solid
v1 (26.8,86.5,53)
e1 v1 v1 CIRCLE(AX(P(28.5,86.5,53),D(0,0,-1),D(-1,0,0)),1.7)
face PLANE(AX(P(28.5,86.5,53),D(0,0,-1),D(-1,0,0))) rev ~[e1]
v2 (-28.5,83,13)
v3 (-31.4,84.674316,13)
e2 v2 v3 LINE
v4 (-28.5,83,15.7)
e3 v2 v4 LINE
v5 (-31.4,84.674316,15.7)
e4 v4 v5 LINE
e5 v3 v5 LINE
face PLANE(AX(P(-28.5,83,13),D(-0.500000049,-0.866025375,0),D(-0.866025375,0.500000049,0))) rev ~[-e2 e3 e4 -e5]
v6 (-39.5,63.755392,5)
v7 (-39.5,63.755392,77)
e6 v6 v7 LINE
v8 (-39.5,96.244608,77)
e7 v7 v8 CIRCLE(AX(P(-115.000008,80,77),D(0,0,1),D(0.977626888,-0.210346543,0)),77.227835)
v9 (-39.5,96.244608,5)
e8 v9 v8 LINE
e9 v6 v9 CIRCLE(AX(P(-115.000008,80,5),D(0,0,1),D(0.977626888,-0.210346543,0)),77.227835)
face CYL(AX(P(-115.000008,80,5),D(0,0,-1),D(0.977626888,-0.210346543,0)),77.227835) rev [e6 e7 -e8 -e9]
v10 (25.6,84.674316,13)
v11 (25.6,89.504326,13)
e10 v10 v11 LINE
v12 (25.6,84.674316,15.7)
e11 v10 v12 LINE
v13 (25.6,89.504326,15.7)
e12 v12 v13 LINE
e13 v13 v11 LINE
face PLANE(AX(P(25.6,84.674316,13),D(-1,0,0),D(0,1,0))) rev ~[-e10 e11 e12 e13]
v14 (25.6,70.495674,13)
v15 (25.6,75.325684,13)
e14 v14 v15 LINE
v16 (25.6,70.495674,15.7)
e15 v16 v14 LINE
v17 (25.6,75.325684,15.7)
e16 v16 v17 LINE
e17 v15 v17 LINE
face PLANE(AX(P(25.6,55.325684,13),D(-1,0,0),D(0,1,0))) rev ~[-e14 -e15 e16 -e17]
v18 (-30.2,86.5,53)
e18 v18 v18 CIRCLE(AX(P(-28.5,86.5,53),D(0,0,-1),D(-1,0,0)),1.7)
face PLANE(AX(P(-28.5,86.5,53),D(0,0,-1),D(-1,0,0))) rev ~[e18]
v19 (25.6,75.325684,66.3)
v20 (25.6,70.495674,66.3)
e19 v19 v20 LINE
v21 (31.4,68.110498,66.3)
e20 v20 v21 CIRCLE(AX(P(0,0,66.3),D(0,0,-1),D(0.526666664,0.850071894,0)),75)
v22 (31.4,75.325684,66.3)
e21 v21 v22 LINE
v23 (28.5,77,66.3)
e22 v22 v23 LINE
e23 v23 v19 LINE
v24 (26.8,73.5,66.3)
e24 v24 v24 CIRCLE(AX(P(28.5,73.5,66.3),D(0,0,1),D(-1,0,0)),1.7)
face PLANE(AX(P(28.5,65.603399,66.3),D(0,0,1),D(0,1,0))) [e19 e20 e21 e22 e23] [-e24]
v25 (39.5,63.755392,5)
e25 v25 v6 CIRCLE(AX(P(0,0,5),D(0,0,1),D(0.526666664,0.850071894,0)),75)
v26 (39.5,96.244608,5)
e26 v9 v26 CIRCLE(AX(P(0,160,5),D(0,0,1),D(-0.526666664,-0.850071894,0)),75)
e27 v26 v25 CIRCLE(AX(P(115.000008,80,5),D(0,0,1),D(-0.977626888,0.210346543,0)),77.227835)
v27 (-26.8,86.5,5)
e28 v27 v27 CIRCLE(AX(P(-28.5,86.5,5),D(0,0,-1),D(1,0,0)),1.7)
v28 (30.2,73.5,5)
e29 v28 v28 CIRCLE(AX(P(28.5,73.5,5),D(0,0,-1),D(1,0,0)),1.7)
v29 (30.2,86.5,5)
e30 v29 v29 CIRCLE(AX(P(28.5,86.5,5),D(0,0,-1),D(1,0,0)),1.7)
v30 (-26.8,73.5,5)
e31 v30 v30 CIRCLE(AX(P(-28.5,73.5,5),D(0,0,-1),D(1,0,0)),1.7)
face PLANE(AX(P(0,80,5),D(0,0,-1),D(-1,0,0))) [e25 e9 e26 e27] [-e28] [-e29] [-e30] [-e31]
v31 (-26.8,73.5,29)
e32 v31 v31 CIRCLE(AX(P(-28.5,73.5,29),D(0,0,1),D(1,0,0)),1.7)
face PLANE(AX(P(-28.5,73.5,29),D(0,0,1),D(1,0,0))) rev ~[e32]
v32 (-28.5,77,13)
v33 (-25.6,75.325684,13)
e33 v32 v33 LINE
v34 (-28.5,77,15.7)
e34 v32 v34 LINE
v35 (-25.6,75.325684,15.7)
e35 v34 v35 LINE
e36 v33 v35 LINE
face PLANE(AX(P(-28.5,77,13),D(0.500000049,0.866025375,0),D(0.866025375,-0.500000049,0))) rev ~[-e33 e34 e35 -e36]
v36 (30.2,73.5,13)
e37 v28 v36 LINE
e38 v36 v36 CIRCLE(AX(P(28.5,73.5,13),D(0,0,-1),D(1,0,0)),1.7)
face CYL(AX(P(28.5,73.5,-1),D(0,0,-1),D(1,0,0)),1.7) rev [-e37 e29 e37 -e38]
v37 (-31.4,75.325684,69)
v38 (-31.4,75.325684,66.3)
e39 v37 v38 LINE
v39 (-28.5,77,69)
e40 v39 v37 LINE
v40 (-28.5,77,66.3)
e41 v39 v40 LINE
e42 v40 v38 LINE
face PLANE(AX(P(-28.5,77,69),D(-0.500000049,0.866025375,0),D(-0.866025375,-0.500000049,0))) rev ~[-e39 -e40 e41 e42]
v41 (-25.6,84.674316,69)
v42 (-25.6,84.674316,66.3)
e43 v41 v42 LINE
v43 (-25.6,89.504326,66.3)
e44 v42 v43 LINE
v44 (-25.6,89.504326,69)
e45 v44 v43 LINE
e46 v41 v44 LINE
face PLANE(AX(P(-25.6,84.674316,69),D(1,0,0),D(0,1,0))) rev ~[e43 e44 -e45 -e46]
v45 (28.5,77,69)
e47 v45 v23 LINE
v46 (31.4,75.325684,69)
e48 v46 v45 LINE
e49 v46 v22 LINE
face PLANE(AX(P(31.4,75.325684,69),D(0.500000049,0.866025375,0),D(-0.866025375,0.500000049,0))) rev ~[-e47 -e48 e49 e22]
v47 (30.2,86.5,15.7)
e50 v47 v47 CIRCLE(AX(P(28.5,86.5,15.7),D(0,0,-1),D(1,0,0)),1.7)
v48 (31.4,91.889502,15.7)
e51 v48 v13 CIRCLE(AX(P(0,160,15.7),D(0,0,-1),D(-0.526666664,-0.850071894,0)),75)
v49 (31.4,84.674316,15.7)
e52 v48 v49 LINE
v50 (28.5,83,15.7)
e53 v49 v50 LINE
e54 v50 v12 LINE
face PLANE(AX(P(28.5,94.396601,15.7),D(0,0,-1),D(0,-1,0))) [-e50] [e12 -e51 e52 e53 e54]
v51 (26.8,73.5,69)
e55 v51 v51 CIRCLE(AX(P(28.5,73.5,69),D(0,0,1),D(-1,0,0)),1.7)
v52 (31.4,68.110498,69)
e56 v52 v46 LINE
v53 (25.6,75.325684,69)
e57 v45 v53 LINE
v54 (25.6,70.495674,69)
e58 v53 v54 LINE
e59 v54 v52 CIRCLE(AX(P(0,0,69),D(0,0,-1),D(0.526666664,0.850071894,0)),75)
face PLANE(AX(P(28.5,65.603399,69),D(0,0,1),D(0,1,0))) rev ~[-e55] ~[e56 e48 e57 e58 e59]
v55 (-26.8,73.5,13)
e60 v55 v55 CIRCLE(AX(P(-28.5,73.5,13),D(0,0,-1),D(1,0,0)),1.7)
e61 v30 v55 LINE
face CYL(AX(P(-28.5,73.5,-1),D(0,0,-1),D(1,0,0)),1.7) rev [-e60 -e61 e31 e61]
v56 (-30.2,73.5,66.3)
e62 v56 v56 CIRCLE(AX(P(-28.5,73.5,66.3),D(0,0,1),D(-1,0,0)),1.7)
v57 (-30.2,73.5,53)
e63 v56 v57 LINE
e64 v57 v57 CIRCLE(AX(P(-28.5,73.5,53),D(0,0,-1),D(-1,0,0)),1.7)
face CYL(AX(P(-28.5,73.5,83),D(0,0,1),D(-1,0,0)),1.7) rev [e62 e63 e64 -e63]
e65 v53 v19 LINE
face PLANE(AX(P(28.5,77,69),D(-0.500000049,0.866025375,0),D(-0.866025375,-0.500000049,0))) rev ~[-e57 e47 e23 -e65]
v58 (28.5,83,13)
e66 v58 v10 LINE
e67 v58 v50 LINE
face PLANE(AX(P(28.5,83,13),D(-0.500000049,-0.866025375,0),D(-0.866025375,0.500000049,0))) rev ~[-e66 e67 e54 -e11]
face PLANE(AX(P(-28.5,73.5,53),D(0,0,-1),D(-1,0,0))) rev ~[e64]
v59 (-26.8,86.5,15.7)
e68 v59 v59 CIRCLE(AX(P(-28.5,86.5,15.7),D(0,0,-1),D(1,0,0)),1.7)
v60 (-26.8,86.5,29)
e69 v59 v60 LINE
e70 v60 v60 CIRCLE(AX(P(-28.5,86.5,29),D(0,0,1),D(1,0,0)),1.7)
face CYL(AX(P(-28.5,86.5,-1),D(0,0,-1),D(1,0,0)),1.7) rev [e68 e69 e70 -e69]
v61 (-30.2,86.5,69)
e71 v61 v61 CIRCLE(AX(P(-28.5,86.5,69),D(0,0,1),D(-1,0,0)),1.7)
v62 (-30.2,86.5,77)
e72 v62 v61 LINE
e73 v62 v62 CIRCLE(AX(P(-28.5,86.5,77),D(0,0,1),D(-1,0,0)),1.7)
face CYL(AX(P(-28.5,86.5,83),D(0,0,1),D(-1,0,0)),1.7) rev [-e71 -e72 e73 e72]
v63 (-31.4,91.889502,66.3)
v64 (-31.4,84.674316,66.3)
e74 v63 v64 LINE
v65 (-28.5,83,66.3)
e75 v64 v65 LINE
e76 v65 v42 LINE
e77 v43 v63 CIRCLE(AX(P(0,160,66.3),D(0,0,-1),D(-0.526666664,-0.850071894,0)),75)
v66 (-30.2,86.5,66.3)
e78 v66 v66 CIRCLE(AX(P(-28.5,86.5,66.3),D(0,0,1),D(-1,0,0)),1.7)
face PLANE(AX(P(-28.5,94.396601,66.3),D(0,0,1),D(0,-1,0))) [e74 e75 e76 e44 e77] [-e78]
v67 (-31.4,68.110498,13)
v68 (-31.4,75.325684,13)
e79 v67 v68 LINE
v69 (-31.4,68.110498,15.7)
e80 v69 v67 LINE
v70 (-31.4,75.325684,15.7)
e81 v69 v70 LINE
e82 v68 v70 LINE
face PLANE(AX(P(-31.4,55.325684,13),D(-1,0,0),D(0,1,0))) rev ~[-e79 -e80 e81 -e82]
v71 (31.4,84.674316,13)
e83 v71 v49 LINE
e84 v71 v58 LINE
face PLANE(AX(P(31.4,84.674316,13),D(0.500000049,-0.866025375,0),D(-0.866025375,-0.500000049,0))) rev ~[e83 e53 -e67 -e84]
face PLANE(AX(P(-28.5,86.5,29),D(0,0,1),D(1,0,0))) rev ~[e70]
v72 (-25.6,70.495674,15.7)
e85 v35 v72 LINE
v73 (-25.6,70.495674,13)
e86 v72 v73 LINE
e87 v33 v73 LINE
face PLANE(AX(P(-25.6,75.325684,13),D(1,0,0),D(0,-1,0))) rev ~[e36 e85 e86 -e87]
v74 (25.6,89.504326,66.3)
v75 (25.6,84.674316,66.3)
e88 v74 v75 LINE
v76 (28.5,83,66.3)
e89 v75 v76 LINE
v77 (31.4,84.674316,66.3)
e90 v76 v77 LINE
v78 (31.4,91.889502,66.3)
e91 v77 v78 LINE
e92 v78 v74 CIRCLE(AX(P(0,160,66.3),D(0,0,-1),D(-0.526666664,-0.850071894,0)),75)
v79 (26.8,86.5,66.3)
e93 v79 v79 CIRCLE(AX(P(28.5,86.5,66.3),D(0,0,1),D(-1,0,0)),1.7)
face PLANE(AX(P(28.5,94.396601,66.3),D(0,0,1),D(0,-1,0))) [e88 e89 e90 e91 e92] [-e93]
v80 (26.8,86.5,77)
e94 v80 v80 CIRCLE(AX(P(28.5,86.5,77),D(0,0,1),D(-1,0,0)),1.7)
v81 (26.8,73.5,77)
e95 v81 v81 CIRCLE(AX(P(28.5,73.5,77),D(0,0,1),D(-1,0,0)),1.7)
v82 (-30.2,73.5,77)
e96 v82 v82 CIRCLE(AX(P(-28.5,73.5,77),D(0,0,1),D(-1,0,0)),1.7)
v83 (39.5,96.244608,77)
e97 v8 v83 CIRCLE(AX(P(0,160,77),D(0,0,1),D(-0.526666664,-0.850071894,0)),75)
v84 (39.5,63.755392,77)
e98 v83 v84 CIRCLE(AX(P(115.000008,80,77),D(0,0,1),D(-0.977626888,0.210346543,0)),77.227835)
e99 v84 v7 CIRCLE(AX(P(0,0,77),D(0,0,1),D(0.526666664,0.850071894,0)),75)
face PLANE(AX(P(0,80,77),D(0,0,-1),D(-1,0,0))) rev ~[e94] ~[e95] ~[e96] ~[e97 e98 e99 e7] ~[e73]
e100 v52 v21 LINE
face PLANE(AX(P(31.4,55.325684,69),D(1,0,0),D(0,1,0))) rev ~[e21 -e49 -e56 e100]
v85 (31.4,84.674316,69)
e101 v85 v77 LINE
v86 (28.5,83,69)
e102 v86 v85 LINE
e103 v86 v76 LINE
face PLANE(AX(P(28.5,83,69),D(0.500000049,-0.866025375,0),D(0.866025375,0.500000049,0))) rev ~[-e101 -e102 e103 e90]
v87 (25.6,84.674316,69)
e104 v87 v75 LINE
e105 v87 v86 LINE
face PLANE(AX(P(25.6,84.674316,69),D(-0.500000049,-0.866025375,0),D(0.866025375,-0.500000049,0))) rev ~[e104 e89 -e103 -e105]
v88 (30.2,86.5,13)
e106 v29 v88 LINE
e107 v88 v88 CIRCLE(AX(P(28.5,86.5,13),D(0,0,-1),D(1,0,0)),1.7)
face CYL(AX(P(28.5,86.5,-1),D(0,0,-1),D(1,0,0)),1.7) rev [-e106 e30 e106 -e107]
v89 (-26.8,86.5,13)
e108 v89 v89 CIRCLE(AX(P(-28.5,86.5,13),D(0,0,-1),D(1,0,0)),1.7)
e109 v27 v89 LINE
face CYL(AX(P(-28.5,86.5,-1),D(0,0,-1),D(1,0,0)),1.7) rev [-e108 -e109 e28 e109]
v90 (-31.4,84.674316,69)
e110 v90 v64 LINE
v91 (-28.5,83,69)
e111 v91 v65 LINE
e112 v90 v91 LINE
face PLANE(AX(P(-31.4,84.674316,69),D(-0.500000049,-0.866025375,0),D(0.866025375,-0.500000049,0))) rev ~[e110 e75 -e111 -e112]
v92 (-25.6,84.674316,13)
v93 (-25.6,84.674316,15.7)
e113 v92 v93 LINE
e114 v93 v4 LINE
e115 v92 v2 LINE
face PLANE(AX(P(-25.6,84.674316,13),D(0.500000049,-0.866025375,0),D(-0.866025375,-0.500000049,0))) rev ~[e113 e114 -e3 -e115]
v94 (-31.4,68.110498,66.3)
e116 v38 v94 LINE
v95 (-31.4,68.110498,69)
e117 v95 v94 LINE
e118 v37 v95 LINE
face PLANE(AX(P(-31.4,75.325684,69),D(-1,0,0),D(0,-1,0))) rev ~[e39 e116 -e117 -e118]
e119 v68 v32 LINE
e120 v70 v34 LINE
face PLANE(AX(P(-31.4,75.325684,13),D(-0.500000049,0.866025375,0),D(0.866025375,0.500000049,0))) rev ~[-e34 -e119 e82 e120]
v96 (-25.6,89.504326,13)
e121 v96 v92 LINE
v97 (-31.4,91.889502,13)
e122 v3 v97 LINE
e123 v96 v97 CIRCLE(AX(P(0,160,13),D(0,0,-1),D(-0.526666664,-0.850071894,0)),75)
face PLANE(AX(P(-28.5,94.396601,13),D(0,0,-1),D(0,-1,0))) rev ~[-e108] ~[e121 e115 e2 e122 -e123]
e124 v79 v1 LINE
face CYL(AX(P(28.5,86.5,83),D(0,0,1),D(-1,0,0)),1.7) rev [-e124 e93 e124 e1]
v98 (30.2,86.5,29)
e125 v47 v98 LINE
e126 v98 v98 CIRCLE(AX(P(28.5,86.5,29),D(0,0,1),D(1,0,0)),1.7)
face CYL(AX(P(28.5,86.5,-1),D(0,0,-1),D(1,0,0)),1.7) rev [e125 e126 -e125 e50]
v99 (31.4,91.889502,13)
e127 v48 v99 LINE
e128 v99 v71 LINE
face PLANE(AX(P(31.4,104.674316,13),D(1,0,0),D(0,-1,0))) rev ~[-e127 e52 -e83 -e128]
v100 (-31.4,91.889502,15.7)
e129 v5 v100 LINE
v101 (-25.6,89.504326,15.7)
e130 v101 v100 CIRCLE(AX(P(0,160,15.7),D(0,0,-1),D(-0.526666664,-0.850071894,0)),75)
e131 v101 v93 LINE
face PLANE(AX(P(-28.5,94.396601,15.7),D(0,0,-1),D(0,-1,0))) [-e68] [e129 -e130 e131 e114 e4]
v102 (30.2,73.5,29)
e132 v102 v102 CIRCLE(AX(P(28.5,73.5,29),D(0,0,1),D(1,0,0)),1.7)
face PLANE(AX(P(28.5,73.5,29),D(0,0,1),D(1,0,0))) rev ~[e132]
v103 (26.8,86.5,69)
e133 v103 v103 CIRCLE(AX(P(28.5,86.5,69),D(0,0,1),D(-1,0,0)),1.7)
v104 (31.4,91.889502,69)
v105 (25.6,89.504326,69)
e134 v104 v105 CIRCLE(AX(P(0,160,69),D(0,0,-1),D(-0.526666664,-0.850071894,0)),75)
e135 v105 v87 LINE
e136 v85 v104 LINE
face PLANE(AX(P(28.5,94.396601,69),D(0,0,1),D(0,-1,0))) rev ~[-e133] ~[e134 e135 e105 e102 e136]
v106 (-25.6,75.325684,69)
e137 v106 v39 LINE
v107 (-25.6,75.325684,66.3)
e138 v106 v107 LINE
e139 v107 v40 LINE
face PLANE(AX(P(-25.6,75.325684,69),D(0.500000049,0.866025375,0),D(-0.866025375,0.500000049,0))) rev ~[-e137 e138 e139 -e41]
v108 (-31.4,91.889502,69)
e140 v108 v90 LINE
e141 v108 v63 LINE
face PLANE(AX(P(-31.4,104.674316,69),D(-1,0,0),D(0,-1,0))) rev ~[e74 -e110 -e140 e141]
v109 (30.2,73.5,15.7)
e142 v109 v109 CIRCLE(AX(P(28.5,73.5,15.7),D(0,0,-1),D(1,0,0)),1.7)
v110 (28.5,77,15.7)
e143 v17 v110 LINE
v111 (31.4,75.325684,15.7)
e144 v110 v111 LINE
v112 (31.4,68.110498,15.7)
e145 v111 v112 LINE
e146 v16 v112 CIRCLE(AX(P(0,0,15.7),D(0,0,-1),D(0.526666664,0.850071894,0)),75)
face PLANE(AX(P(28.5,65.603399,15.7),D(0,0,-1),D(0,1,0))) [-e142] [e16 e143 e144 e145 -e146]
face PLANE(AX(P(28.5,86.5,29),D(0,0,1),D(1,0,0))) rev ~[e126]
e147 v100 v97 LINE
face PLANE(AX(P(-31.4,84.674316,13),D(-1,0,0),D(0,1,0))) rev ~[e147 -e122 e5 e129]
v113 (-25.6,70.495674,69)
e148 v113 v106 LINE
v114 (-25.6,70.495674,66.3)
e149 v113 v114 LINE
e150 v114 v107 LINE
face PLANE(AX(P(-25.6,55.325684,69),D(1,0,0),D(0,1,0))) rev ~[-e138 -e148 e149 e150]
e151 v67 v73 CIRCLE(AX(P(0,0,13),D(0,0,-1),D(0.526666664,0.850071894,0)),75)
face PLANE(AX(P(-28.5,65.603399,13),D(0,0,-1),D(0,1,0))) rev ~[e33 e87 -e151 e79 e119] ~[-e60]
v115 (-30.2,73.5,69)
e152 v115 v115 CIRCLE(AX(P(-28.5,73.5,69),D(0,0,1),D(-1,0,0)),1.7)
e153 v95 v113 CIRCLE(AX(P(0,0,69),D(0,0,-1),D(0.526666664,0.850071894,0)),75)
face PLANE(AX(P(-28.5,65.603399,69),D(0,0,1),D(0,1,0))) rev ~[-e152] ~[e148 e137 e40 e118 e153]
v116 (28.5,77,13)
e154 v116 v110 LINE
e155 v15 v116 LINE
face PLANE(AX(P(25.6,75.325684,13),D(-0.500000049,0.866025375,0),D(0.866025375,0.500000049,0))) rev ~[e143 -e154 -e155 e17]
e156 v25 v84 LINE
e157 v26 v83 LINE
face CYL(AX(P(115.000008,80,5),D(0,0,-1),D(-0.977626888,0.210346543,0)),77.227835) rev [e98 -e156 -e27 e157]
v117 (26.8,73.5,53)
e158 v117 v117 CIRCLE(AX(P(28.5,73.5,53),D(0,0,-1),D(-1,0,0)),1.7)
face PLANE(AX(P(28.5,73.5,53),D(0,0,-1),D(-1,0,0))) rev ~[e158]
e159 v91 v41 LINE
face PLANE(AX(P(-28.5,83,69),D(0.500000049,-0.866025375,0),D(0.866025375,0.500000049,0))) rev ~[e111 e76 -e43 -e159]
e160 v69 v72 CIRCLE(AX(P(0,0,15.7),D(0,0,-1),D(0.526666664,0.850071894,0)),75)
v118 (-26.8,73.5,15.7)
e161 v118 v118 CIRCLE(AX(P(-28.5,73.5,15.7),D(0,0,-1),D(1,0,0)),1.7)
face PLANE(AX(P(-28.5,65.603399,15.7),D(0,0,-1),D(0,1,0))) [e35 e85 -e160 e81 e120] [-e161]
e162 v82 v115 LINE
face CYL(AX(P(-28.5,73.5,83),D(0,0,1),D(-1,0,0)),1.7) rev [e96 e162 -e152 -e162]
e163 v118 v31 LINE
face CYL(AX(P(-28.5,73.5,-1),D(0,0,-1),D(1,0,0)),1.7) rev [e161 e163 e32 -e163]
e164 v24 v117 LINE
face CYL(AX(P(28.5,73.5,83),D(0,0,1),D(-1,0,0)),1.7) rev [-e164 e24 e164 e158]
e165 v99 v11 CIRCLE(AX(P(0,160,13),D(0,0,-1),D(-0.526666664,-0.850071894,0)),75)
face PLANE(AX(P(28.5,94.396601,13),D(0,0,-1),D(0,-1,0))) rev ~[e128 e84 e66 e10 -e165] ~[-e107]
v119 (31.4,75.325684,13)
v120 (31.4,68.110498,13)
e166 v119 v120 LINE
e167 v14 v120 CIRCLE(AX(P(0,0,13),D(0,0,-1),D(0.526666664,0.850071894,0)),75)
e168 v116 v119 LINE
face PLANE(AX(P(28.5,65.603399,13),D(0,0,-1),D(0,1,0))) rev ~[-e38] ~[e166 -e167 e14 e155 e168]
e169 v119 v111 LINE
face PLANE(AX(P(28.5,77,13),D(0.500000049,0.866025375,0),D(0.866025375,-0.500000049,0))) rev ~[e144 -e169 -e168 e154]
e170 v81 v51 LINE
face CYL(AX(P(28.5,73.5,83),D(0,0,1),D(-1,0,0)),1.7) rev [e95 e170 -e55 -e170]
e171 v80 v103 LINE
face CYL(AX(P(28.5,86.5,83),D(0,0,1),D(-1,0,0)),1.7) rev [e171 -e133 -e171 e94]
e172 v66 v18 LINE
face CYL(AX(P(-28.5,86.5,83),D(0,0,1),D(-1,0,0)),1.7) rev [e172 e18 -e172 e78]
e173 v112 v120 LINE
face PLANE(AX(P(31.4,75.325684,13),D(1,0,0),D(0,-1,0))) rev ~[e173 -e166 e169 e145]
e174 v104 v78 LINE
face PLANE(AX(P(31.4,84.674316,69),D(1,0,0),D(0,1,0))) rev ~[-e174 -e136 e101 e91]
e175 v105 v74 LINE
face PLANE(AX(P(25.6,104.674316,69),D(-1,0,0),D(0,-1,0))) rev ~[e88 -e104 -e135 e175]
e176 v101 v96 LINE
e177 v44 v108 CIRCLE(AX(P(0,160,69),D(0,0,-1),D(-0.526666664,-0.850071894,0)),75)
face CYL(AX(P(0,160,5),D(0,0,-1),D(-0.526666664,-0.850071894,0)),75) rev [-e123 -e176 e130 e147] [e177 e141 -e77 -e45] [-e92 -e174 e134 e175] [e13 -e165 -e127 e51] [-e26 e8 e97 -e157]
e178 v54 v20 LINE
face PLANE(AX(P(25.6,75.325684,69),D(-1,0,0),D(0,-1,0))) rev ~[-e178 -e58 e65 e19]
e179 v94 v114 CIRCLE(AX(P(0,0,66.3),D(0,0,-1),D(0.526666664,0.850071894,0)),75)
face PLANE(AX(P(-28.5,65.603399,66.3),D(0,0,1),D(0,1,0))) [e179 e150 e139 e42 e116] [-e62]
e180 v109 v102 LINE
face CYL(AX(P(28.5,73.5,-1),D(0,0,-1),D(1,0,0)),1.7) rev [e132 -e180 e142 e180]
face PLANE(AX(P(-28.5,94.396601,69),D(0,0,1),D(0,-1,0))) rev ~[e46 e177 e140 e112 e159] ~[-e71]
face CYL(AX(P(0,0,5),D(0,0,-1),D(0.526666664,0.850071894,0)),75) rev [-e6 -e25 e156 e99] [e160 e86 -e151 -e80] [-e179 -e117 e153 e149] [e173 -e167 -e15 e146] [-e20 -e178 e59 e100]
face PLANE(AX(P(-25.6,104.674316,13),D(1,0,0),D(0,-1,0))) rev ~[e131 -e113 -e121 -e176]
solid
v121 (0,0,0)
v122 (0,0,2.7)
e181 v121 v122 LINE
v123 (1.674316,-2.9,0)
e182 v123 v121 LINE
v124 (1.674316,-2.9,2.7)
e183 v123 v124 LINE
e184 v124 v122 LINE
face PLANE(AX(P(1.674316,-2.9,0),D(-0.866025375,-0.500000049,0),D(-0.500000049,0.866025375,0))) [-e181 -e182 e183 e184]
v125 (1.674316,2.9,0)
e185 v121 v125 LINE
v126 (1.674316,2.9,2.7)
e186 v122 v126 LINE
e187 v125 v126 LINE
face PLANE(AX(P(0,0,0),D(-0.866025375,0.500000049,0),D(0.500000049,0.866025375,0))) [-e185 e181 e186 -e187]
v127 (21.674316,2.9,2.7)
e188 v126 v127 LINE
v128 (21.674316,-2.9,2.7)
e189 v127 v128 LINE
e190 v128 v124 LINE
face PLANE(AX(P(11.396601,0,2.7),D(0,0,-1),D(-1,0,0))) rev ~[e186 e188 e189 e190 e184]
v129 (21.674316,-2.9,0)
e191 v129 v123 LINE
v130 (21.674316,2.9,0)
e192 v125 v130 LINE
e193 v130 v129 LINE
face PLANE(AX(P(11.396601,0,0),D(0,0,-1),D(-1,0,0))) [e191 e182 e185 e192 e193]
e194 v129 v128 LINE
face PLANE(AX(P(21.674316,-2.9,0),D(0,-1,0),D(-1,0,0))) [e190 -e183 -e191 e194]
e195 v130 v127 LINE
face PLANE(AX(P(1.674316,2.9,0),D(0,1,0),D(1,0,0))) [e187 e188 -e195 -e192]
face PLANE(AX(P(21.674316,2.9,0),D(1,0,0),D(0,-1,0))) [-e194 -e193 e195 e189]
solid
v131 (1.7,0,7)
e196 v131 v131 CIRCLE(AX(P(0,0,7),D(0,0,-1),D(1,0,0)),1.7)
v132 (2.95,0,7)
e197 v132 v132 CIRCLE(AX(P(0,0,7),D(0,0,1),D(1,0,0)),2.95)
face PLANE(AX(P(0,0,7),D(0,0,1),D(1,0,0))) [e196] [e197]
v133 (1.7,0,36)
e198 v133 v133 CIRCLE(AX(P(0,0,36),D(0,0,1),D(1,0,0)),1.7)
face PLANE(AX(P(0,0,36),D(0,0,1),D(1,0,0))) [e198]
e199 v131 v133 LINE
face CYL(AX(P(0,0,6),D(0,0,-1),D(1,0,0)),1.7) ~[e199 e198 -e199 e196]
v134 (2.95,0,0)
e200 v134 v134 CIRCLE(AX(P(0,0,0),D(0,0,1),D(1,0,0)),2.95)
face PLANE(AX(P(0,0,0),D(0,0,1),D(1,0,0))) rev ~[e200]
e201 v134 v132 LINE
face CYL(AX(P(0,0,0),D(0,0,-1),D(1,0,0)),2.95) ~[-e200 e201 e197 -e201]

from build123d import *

# Parameters (mm, degrees)
CYLINDER_R               = 2.95
CYLINDER_DEPTH           = 7
CYLINDER001_R            = 1.7
CYLINDER001_DEPTH        = 30
PAD002_DEPTH             = 2.7
CLONE171_ROLL_ANGLE      = 180
CLONE171_PLACEMENT_ANGLE = 90
CLONE167_PLACEMENT_ANGLE = -90
CLONE168_PLACEMENT_ANGLE = 90
CLONE172_ROLL_ANGLE      = 180
CLONE172_PLACEMENT_ANGLE = 90
CLONE177_PLACEMENT_ANGLE = 180
CLONE169_ROLL_ANGLE      = 180
CLONE169_PLACEMENT_ANGLE = -90
CLONE170_ROLL_ANGLE      = 180
CLONE170_PLACEMENT_ANGLE = -90
CLONE178_PLACEMENT_ANGLE = 180
CLONE180_PLACEMENT_ANGLE = 180
CLONE179_PLACEMENT_ANGLE = 180
CLONE166_PLACEMENT_ANGLE = -90
CLONE165_PLACEMENT_ANGLE = 90
PAD021_DEPTH             = 72


with BuildPart() as m3bolthead:
    # Cylinder → Cylinder (new body)
    with BuildSketch(Plane.XY):
        Circle(CYLINDER_R)
    extrude(amount=CYLINDER_DEPTH)


with BuildPart() as m3bolt:
    # Cylinder001 → Cylinder001 (new body)
    with BuildSketch(Plane.XY.offset(6)):
        Circle(CYLINDER001_R)
    extrude(amount=CYLINDER001_DEPTH)

    # Fusion: union M3BoltHead
    add(m3bolthead.part)


with BuildPart() as m3nuthousing:
    # Sketch003 → Pad002 (new body)
    with BuildSketch(Plane.XY):
        Polygon((0, 0), (1.674316, 2.9), (21.674316, 2.9), (21.674316, -2.9), (1.674316, -2.9), align=None)
    extrude(amount=PAD002_DEPTH)


with BuildPart() as clone_of_m3nuthousing016:
    # Clone171 base: copy of M3NutHousing
    add(m3nuthousing.part)


with BuildPart() as clone_of_m3nuthousing016_1:
    # Clone171 roll: moved
    add(clone_of_m3nuthousing016.part.rotate(Axis((0, 0, 0), (1, 0, 0)), CLONE171_ROLL_ANGLE))


with BuildPart() as clone_of_m3nuthousing016_2:
    # Clone171 placement: moved
    add(clone_of_m3nuthousing016_1.part.moved(Location((28.5, 83, 69))).rotate(Axis((28.5, 83, 69), (0, 0, 1)), CLONE171_PLACEMENT_ANGLE))


with BuildPart() as clone_of_m3nuthousing012:
    # Clone167 base: copy of M3NutHousing
    add(m3nuthousing.part)


with BuildPart() as clone_of_m3nuthousing012_1:
    # Clone167 placement: moved
    add(clone_of_m3nuthousing012.part.moved(Location((28.5, 77, 13))).rotate(Axis((28.5, 77, 13), (0, 0, 1)), CLONE167_PLACEMENT_ANGLE))


with BuildPart() as clone_of_m3nuthousing013:
    # Clone168 base: copy of M3NutHousing
    add(m3nuthousing.part)


with BuildPart() as clone_of_m3nuthousing013_1:
    # Clone168 placement: moved
    add(clone_of_m3nuthousing013.part.moved(Location((-28.5, 83, 13))).rotate(Axis((-28.5, 83, 13), (0, 0, 1)), CLONE168_PLACEMENT_ANGLE))


with BuildPart() as clone_of_m3nuthousing017:
    # Clone172 base: copy of M3NutHousing
    add(m3nuthousing.part)


with BuildPart() as clone_of_m3nuthousing017_1:
    # Clone172 roll: moved
    add(clone_of_m3nuthousing017.part.rotate(Axis((0, 0, 0), (1, 0, 0)), CLONE172_ROLL_ANGLE))


with BuildPart() as clone_of_m3nuthousing017_2:
    # Clone172 placement: moved
    add(clone_of_m3nuthousing017_1.part.moved(Location((-28.5, 83, 69))).rotate(Axis((-28.5, 83, 69), (0, 0, 1)), CLONE172_PLACEMENT_ANGLE))


with BuildPart() as clone_of_m3bolt046:
    # Clone174 base: copy of M3Bolt
    add(m3bolt.part)


with BuildPart() as clone_of_m3bolt046_1:
    # Clone174 placement: moved
    add(clone_of_m3bolt046.part.moved(Location((-28.5, 73.5, -7))))


with BuildPart() as clone_of_m3bolt049:
    # Clone177 base: copy of M3Bolt
    add(m3bolt.part)


with BuildPart() as clone_of_m3bolt049_1:
    # Clone177 placement: moved
    add(clone_of_m3bolt049.part.moved(Location((28.5, 73.5, 89))).rotate(Axis((28.5, 73.5, 89), (0, 1, 0)), CLONE177_PLACEMENT_ANGLE))


with BuildPart() as clone_of_m3nuthousing014:
    # Clone169 base: copy of M3NutHousing
    add(m3nuthousing.part)


with BuildPart() as clone_of_m3nuthousing014_1:
    # Clone169 roll: moved
    add(clone_of_m3nuthousing014.part.rotate(Axis((0, 0, 0), (1, 0, 0)), CLONE169_ROLL_ANGLE))


with BuildPart() as clone_of_m3nuthousing014_2:
    # Clone169 placement: moved
    add(clone_of_m3nuthousing014_1.part.moved(Location((28.5, 77, 69))).rotate(Axis((28.5, 77, 69), (0, 0, 1)), CLONE169_PLACEMENT_ANGLE))


with BuildPart() as clone_of_m3nuthousing015:
    # Clone170 base: copy of M3NutHousing
    add(m3nuthousing.part)


with BuildPart() as clone_of_m3nuthousing015_1:
    # Clone170 roll: moved
    add(clone_of_m3nuthousing015.part.rotate(Axis((0, 0, 0), (1, 0, 0)), CLONE170_ROLL_ANGLE))


with BuildPart() as clone_of_m3nuthousing015_2:
    # Clone170 placement: moved
    add(clone_of_m3nuthousing015_1.part.moved(Location((-28.5, 77, 69))).rotate(Axis((-28.5, 77, 69), (0, 0, 1)), CLONE170_PLACEMENT_ANGLE))


with BuildPart() as clone_of_m3bolt050:
    # Clone178 base: copy of M3Bolt
    add(m3bolt.part)


with BuildPart() as clone_of_m3bolt050_1:
    # Clone178 placement: moved
    add(clone_of_m3bolt050.part.moved(Location((-28.5, 73.5, 89))).rotate(Axis((-28.5, 73.5, 89), (0, 1, 0)), CLONE178_PLACEMENT_ANGLE))


with BuildPart() as clone_of_m3bolt048:
    # Clone176 base: copy of M3Bolt
    add(m3bolt.part)


with BuildPart() as clone_of_m3bolt048_1:
    # Clone176 placement: moved
    add(clone_of_m3bolt048.part.moved(Location((-28.5, 86.5, -7))))


with BuildPart() as clone_of_m3bolt052:
    # Clone180 base: copy of M3Bolt
    add(m3bolt.part)


with BuildPart() as clone_of_m3bolt052_1:
    # Clone180 placement: moved
    add(clone_of_m3bolt052.part.moved(Location((-28.5, 86.5, 89))).rotate(Axis((-28.5, 86.5, 89), (0, 1, 0)), CLONE180_PLACEMENT_ANGLE))


with BuildPart() as clone_of_m3bolt045:
    # Clone173 base: copy of M3Bolt
    add(m3bolt.part)


with BuildPart() as clone_of_m3bolt045_1:
    # Clone173 placement: moved
    add(clone_of_m3bolt045.part.moved(Location((28.5, 86.5, -7))))


with BuildPart() as clone_of_m3bolt051:
    # Clone179 base: copy of M3Bolt
    add(m3bolt.part)


with BuildPart() as clone_of_m3bolt051_1:
    # Clone179 placement: moved
    add(clone_of_m3bolt051.part.moved(Location((28.5, 86.5, 89))).rotate(Axis((28.5, 86.5, 89), (0, 1, 0)), CLONE179_PLACEMENT_ANGLE))


with BuildPart() as clone_of_m3bolt047:
    # Clone175 base: copy of M3Bolt
    add(m3bolt.part)


with BuildPart() as clone_of_m3bolt047_1:
    # Clone175 placement: moved
    add(clone_of_m3bolt047.part.moved(Location((28.5, 73.5, -7))))


with BuildPart() as clone_of_m3nuthousing011:
    # Clone166 base: copy of M3NutHousing
    add(m3nuthousing.part)


with BuildPart() as clone_of_m3nuthousing011_1:
    # Clone166 placement: moved
    add(clone_of_m3nuthousing011.part.moved(Location((-28.5, 77, 13))).rotate(Axis((-28.5, 77, 13), (0, 0, 1)), CLONE166_PLACEMENT_ANGLE))


with BuildPart() as fusion066:
    # Clone165 base: copy of M3NutHousing
    add(m3nuthousing.part)


with BuildPart() as fusion066_1:
    # Clone165 placement: moved
    add(fusion066.part.moved(Location((28.5, 83, 13))).rotate(Axis((28.5, 83, 13), (0, 0, 1)), CLONE165_PLACEMENT_ANGLE))

    # Fusion066: union Clone of M3NutHousing016, Clone of M3NutHousing012, Clone of M3NutHousing013, Clone of M3NutHousing017, Clone of M3Bolt046, Clone of M3Bolt049, Clone of M3NutHousing014, Clone of M3NutHousing015, Clone of M3Bolt050, Clone of M3Bolt048, Clone of M3Bolt052, Clone of M3Bolt045, Clone of M3Bolt051, Clone of M3Bolt047, Clone of M3NutHousing011
    add(clone_of_m3nuthousing016_2.part)
    add(clone_of_m3nuthousing012_1.part)
    add(clone_of_m3nuthousing013_1.part)
    add(clone_of_m3nuthousing017_2.part)
    add(clone_of_m3bolt046_1.part)
    add(clone_of_m3bolt049_1.part)
    add(clone_of_m3nuthousing014_2.part)
    add(clone_of_m3nuthousing015_2.part)
    add(clone_of_m3bolt050_1.part)
    add(clone_of_m3bolt048_1.part)
    add(clone_of_m3bolt052_1.part)
    add(clone_of_m3bolt045_1.part)
    add(clone_of_m3bolt051_1.part)
    add(clone_of_m3bolt047_1.part)
    add(clone_of_m3nuthousing011_1.part)


with BuildPart() as art2union:
    # Sketch029 → Pad021 (new body)
    with BuildSketch(Plane.XY.offset(5)):
        with BuildLine():
            ThreePointArc((39.5, 63.755392), (0, 75), (-39.5, 63.755392))
            ThreePointArc((-39.5, 63.755392), (-37.772173, 80), (-39.5, 96.244608))
            ThreePointArc((-39.5, 96.244608), (0, 85), (39.5, 96.244608))
            ThreePointArc((39.5, 96.244608), (37.772173, 80), (39.5, 63.755392))
        make_face()
    extrude(amount=PAD021_DEPTH)

    # Cut058: cut Fusion066
    add(fusion066_1.part, mode=Mode.SUBTRACT)


solid = Compound([m3bolt.part, m3nuthousing.part, art2union.part])
